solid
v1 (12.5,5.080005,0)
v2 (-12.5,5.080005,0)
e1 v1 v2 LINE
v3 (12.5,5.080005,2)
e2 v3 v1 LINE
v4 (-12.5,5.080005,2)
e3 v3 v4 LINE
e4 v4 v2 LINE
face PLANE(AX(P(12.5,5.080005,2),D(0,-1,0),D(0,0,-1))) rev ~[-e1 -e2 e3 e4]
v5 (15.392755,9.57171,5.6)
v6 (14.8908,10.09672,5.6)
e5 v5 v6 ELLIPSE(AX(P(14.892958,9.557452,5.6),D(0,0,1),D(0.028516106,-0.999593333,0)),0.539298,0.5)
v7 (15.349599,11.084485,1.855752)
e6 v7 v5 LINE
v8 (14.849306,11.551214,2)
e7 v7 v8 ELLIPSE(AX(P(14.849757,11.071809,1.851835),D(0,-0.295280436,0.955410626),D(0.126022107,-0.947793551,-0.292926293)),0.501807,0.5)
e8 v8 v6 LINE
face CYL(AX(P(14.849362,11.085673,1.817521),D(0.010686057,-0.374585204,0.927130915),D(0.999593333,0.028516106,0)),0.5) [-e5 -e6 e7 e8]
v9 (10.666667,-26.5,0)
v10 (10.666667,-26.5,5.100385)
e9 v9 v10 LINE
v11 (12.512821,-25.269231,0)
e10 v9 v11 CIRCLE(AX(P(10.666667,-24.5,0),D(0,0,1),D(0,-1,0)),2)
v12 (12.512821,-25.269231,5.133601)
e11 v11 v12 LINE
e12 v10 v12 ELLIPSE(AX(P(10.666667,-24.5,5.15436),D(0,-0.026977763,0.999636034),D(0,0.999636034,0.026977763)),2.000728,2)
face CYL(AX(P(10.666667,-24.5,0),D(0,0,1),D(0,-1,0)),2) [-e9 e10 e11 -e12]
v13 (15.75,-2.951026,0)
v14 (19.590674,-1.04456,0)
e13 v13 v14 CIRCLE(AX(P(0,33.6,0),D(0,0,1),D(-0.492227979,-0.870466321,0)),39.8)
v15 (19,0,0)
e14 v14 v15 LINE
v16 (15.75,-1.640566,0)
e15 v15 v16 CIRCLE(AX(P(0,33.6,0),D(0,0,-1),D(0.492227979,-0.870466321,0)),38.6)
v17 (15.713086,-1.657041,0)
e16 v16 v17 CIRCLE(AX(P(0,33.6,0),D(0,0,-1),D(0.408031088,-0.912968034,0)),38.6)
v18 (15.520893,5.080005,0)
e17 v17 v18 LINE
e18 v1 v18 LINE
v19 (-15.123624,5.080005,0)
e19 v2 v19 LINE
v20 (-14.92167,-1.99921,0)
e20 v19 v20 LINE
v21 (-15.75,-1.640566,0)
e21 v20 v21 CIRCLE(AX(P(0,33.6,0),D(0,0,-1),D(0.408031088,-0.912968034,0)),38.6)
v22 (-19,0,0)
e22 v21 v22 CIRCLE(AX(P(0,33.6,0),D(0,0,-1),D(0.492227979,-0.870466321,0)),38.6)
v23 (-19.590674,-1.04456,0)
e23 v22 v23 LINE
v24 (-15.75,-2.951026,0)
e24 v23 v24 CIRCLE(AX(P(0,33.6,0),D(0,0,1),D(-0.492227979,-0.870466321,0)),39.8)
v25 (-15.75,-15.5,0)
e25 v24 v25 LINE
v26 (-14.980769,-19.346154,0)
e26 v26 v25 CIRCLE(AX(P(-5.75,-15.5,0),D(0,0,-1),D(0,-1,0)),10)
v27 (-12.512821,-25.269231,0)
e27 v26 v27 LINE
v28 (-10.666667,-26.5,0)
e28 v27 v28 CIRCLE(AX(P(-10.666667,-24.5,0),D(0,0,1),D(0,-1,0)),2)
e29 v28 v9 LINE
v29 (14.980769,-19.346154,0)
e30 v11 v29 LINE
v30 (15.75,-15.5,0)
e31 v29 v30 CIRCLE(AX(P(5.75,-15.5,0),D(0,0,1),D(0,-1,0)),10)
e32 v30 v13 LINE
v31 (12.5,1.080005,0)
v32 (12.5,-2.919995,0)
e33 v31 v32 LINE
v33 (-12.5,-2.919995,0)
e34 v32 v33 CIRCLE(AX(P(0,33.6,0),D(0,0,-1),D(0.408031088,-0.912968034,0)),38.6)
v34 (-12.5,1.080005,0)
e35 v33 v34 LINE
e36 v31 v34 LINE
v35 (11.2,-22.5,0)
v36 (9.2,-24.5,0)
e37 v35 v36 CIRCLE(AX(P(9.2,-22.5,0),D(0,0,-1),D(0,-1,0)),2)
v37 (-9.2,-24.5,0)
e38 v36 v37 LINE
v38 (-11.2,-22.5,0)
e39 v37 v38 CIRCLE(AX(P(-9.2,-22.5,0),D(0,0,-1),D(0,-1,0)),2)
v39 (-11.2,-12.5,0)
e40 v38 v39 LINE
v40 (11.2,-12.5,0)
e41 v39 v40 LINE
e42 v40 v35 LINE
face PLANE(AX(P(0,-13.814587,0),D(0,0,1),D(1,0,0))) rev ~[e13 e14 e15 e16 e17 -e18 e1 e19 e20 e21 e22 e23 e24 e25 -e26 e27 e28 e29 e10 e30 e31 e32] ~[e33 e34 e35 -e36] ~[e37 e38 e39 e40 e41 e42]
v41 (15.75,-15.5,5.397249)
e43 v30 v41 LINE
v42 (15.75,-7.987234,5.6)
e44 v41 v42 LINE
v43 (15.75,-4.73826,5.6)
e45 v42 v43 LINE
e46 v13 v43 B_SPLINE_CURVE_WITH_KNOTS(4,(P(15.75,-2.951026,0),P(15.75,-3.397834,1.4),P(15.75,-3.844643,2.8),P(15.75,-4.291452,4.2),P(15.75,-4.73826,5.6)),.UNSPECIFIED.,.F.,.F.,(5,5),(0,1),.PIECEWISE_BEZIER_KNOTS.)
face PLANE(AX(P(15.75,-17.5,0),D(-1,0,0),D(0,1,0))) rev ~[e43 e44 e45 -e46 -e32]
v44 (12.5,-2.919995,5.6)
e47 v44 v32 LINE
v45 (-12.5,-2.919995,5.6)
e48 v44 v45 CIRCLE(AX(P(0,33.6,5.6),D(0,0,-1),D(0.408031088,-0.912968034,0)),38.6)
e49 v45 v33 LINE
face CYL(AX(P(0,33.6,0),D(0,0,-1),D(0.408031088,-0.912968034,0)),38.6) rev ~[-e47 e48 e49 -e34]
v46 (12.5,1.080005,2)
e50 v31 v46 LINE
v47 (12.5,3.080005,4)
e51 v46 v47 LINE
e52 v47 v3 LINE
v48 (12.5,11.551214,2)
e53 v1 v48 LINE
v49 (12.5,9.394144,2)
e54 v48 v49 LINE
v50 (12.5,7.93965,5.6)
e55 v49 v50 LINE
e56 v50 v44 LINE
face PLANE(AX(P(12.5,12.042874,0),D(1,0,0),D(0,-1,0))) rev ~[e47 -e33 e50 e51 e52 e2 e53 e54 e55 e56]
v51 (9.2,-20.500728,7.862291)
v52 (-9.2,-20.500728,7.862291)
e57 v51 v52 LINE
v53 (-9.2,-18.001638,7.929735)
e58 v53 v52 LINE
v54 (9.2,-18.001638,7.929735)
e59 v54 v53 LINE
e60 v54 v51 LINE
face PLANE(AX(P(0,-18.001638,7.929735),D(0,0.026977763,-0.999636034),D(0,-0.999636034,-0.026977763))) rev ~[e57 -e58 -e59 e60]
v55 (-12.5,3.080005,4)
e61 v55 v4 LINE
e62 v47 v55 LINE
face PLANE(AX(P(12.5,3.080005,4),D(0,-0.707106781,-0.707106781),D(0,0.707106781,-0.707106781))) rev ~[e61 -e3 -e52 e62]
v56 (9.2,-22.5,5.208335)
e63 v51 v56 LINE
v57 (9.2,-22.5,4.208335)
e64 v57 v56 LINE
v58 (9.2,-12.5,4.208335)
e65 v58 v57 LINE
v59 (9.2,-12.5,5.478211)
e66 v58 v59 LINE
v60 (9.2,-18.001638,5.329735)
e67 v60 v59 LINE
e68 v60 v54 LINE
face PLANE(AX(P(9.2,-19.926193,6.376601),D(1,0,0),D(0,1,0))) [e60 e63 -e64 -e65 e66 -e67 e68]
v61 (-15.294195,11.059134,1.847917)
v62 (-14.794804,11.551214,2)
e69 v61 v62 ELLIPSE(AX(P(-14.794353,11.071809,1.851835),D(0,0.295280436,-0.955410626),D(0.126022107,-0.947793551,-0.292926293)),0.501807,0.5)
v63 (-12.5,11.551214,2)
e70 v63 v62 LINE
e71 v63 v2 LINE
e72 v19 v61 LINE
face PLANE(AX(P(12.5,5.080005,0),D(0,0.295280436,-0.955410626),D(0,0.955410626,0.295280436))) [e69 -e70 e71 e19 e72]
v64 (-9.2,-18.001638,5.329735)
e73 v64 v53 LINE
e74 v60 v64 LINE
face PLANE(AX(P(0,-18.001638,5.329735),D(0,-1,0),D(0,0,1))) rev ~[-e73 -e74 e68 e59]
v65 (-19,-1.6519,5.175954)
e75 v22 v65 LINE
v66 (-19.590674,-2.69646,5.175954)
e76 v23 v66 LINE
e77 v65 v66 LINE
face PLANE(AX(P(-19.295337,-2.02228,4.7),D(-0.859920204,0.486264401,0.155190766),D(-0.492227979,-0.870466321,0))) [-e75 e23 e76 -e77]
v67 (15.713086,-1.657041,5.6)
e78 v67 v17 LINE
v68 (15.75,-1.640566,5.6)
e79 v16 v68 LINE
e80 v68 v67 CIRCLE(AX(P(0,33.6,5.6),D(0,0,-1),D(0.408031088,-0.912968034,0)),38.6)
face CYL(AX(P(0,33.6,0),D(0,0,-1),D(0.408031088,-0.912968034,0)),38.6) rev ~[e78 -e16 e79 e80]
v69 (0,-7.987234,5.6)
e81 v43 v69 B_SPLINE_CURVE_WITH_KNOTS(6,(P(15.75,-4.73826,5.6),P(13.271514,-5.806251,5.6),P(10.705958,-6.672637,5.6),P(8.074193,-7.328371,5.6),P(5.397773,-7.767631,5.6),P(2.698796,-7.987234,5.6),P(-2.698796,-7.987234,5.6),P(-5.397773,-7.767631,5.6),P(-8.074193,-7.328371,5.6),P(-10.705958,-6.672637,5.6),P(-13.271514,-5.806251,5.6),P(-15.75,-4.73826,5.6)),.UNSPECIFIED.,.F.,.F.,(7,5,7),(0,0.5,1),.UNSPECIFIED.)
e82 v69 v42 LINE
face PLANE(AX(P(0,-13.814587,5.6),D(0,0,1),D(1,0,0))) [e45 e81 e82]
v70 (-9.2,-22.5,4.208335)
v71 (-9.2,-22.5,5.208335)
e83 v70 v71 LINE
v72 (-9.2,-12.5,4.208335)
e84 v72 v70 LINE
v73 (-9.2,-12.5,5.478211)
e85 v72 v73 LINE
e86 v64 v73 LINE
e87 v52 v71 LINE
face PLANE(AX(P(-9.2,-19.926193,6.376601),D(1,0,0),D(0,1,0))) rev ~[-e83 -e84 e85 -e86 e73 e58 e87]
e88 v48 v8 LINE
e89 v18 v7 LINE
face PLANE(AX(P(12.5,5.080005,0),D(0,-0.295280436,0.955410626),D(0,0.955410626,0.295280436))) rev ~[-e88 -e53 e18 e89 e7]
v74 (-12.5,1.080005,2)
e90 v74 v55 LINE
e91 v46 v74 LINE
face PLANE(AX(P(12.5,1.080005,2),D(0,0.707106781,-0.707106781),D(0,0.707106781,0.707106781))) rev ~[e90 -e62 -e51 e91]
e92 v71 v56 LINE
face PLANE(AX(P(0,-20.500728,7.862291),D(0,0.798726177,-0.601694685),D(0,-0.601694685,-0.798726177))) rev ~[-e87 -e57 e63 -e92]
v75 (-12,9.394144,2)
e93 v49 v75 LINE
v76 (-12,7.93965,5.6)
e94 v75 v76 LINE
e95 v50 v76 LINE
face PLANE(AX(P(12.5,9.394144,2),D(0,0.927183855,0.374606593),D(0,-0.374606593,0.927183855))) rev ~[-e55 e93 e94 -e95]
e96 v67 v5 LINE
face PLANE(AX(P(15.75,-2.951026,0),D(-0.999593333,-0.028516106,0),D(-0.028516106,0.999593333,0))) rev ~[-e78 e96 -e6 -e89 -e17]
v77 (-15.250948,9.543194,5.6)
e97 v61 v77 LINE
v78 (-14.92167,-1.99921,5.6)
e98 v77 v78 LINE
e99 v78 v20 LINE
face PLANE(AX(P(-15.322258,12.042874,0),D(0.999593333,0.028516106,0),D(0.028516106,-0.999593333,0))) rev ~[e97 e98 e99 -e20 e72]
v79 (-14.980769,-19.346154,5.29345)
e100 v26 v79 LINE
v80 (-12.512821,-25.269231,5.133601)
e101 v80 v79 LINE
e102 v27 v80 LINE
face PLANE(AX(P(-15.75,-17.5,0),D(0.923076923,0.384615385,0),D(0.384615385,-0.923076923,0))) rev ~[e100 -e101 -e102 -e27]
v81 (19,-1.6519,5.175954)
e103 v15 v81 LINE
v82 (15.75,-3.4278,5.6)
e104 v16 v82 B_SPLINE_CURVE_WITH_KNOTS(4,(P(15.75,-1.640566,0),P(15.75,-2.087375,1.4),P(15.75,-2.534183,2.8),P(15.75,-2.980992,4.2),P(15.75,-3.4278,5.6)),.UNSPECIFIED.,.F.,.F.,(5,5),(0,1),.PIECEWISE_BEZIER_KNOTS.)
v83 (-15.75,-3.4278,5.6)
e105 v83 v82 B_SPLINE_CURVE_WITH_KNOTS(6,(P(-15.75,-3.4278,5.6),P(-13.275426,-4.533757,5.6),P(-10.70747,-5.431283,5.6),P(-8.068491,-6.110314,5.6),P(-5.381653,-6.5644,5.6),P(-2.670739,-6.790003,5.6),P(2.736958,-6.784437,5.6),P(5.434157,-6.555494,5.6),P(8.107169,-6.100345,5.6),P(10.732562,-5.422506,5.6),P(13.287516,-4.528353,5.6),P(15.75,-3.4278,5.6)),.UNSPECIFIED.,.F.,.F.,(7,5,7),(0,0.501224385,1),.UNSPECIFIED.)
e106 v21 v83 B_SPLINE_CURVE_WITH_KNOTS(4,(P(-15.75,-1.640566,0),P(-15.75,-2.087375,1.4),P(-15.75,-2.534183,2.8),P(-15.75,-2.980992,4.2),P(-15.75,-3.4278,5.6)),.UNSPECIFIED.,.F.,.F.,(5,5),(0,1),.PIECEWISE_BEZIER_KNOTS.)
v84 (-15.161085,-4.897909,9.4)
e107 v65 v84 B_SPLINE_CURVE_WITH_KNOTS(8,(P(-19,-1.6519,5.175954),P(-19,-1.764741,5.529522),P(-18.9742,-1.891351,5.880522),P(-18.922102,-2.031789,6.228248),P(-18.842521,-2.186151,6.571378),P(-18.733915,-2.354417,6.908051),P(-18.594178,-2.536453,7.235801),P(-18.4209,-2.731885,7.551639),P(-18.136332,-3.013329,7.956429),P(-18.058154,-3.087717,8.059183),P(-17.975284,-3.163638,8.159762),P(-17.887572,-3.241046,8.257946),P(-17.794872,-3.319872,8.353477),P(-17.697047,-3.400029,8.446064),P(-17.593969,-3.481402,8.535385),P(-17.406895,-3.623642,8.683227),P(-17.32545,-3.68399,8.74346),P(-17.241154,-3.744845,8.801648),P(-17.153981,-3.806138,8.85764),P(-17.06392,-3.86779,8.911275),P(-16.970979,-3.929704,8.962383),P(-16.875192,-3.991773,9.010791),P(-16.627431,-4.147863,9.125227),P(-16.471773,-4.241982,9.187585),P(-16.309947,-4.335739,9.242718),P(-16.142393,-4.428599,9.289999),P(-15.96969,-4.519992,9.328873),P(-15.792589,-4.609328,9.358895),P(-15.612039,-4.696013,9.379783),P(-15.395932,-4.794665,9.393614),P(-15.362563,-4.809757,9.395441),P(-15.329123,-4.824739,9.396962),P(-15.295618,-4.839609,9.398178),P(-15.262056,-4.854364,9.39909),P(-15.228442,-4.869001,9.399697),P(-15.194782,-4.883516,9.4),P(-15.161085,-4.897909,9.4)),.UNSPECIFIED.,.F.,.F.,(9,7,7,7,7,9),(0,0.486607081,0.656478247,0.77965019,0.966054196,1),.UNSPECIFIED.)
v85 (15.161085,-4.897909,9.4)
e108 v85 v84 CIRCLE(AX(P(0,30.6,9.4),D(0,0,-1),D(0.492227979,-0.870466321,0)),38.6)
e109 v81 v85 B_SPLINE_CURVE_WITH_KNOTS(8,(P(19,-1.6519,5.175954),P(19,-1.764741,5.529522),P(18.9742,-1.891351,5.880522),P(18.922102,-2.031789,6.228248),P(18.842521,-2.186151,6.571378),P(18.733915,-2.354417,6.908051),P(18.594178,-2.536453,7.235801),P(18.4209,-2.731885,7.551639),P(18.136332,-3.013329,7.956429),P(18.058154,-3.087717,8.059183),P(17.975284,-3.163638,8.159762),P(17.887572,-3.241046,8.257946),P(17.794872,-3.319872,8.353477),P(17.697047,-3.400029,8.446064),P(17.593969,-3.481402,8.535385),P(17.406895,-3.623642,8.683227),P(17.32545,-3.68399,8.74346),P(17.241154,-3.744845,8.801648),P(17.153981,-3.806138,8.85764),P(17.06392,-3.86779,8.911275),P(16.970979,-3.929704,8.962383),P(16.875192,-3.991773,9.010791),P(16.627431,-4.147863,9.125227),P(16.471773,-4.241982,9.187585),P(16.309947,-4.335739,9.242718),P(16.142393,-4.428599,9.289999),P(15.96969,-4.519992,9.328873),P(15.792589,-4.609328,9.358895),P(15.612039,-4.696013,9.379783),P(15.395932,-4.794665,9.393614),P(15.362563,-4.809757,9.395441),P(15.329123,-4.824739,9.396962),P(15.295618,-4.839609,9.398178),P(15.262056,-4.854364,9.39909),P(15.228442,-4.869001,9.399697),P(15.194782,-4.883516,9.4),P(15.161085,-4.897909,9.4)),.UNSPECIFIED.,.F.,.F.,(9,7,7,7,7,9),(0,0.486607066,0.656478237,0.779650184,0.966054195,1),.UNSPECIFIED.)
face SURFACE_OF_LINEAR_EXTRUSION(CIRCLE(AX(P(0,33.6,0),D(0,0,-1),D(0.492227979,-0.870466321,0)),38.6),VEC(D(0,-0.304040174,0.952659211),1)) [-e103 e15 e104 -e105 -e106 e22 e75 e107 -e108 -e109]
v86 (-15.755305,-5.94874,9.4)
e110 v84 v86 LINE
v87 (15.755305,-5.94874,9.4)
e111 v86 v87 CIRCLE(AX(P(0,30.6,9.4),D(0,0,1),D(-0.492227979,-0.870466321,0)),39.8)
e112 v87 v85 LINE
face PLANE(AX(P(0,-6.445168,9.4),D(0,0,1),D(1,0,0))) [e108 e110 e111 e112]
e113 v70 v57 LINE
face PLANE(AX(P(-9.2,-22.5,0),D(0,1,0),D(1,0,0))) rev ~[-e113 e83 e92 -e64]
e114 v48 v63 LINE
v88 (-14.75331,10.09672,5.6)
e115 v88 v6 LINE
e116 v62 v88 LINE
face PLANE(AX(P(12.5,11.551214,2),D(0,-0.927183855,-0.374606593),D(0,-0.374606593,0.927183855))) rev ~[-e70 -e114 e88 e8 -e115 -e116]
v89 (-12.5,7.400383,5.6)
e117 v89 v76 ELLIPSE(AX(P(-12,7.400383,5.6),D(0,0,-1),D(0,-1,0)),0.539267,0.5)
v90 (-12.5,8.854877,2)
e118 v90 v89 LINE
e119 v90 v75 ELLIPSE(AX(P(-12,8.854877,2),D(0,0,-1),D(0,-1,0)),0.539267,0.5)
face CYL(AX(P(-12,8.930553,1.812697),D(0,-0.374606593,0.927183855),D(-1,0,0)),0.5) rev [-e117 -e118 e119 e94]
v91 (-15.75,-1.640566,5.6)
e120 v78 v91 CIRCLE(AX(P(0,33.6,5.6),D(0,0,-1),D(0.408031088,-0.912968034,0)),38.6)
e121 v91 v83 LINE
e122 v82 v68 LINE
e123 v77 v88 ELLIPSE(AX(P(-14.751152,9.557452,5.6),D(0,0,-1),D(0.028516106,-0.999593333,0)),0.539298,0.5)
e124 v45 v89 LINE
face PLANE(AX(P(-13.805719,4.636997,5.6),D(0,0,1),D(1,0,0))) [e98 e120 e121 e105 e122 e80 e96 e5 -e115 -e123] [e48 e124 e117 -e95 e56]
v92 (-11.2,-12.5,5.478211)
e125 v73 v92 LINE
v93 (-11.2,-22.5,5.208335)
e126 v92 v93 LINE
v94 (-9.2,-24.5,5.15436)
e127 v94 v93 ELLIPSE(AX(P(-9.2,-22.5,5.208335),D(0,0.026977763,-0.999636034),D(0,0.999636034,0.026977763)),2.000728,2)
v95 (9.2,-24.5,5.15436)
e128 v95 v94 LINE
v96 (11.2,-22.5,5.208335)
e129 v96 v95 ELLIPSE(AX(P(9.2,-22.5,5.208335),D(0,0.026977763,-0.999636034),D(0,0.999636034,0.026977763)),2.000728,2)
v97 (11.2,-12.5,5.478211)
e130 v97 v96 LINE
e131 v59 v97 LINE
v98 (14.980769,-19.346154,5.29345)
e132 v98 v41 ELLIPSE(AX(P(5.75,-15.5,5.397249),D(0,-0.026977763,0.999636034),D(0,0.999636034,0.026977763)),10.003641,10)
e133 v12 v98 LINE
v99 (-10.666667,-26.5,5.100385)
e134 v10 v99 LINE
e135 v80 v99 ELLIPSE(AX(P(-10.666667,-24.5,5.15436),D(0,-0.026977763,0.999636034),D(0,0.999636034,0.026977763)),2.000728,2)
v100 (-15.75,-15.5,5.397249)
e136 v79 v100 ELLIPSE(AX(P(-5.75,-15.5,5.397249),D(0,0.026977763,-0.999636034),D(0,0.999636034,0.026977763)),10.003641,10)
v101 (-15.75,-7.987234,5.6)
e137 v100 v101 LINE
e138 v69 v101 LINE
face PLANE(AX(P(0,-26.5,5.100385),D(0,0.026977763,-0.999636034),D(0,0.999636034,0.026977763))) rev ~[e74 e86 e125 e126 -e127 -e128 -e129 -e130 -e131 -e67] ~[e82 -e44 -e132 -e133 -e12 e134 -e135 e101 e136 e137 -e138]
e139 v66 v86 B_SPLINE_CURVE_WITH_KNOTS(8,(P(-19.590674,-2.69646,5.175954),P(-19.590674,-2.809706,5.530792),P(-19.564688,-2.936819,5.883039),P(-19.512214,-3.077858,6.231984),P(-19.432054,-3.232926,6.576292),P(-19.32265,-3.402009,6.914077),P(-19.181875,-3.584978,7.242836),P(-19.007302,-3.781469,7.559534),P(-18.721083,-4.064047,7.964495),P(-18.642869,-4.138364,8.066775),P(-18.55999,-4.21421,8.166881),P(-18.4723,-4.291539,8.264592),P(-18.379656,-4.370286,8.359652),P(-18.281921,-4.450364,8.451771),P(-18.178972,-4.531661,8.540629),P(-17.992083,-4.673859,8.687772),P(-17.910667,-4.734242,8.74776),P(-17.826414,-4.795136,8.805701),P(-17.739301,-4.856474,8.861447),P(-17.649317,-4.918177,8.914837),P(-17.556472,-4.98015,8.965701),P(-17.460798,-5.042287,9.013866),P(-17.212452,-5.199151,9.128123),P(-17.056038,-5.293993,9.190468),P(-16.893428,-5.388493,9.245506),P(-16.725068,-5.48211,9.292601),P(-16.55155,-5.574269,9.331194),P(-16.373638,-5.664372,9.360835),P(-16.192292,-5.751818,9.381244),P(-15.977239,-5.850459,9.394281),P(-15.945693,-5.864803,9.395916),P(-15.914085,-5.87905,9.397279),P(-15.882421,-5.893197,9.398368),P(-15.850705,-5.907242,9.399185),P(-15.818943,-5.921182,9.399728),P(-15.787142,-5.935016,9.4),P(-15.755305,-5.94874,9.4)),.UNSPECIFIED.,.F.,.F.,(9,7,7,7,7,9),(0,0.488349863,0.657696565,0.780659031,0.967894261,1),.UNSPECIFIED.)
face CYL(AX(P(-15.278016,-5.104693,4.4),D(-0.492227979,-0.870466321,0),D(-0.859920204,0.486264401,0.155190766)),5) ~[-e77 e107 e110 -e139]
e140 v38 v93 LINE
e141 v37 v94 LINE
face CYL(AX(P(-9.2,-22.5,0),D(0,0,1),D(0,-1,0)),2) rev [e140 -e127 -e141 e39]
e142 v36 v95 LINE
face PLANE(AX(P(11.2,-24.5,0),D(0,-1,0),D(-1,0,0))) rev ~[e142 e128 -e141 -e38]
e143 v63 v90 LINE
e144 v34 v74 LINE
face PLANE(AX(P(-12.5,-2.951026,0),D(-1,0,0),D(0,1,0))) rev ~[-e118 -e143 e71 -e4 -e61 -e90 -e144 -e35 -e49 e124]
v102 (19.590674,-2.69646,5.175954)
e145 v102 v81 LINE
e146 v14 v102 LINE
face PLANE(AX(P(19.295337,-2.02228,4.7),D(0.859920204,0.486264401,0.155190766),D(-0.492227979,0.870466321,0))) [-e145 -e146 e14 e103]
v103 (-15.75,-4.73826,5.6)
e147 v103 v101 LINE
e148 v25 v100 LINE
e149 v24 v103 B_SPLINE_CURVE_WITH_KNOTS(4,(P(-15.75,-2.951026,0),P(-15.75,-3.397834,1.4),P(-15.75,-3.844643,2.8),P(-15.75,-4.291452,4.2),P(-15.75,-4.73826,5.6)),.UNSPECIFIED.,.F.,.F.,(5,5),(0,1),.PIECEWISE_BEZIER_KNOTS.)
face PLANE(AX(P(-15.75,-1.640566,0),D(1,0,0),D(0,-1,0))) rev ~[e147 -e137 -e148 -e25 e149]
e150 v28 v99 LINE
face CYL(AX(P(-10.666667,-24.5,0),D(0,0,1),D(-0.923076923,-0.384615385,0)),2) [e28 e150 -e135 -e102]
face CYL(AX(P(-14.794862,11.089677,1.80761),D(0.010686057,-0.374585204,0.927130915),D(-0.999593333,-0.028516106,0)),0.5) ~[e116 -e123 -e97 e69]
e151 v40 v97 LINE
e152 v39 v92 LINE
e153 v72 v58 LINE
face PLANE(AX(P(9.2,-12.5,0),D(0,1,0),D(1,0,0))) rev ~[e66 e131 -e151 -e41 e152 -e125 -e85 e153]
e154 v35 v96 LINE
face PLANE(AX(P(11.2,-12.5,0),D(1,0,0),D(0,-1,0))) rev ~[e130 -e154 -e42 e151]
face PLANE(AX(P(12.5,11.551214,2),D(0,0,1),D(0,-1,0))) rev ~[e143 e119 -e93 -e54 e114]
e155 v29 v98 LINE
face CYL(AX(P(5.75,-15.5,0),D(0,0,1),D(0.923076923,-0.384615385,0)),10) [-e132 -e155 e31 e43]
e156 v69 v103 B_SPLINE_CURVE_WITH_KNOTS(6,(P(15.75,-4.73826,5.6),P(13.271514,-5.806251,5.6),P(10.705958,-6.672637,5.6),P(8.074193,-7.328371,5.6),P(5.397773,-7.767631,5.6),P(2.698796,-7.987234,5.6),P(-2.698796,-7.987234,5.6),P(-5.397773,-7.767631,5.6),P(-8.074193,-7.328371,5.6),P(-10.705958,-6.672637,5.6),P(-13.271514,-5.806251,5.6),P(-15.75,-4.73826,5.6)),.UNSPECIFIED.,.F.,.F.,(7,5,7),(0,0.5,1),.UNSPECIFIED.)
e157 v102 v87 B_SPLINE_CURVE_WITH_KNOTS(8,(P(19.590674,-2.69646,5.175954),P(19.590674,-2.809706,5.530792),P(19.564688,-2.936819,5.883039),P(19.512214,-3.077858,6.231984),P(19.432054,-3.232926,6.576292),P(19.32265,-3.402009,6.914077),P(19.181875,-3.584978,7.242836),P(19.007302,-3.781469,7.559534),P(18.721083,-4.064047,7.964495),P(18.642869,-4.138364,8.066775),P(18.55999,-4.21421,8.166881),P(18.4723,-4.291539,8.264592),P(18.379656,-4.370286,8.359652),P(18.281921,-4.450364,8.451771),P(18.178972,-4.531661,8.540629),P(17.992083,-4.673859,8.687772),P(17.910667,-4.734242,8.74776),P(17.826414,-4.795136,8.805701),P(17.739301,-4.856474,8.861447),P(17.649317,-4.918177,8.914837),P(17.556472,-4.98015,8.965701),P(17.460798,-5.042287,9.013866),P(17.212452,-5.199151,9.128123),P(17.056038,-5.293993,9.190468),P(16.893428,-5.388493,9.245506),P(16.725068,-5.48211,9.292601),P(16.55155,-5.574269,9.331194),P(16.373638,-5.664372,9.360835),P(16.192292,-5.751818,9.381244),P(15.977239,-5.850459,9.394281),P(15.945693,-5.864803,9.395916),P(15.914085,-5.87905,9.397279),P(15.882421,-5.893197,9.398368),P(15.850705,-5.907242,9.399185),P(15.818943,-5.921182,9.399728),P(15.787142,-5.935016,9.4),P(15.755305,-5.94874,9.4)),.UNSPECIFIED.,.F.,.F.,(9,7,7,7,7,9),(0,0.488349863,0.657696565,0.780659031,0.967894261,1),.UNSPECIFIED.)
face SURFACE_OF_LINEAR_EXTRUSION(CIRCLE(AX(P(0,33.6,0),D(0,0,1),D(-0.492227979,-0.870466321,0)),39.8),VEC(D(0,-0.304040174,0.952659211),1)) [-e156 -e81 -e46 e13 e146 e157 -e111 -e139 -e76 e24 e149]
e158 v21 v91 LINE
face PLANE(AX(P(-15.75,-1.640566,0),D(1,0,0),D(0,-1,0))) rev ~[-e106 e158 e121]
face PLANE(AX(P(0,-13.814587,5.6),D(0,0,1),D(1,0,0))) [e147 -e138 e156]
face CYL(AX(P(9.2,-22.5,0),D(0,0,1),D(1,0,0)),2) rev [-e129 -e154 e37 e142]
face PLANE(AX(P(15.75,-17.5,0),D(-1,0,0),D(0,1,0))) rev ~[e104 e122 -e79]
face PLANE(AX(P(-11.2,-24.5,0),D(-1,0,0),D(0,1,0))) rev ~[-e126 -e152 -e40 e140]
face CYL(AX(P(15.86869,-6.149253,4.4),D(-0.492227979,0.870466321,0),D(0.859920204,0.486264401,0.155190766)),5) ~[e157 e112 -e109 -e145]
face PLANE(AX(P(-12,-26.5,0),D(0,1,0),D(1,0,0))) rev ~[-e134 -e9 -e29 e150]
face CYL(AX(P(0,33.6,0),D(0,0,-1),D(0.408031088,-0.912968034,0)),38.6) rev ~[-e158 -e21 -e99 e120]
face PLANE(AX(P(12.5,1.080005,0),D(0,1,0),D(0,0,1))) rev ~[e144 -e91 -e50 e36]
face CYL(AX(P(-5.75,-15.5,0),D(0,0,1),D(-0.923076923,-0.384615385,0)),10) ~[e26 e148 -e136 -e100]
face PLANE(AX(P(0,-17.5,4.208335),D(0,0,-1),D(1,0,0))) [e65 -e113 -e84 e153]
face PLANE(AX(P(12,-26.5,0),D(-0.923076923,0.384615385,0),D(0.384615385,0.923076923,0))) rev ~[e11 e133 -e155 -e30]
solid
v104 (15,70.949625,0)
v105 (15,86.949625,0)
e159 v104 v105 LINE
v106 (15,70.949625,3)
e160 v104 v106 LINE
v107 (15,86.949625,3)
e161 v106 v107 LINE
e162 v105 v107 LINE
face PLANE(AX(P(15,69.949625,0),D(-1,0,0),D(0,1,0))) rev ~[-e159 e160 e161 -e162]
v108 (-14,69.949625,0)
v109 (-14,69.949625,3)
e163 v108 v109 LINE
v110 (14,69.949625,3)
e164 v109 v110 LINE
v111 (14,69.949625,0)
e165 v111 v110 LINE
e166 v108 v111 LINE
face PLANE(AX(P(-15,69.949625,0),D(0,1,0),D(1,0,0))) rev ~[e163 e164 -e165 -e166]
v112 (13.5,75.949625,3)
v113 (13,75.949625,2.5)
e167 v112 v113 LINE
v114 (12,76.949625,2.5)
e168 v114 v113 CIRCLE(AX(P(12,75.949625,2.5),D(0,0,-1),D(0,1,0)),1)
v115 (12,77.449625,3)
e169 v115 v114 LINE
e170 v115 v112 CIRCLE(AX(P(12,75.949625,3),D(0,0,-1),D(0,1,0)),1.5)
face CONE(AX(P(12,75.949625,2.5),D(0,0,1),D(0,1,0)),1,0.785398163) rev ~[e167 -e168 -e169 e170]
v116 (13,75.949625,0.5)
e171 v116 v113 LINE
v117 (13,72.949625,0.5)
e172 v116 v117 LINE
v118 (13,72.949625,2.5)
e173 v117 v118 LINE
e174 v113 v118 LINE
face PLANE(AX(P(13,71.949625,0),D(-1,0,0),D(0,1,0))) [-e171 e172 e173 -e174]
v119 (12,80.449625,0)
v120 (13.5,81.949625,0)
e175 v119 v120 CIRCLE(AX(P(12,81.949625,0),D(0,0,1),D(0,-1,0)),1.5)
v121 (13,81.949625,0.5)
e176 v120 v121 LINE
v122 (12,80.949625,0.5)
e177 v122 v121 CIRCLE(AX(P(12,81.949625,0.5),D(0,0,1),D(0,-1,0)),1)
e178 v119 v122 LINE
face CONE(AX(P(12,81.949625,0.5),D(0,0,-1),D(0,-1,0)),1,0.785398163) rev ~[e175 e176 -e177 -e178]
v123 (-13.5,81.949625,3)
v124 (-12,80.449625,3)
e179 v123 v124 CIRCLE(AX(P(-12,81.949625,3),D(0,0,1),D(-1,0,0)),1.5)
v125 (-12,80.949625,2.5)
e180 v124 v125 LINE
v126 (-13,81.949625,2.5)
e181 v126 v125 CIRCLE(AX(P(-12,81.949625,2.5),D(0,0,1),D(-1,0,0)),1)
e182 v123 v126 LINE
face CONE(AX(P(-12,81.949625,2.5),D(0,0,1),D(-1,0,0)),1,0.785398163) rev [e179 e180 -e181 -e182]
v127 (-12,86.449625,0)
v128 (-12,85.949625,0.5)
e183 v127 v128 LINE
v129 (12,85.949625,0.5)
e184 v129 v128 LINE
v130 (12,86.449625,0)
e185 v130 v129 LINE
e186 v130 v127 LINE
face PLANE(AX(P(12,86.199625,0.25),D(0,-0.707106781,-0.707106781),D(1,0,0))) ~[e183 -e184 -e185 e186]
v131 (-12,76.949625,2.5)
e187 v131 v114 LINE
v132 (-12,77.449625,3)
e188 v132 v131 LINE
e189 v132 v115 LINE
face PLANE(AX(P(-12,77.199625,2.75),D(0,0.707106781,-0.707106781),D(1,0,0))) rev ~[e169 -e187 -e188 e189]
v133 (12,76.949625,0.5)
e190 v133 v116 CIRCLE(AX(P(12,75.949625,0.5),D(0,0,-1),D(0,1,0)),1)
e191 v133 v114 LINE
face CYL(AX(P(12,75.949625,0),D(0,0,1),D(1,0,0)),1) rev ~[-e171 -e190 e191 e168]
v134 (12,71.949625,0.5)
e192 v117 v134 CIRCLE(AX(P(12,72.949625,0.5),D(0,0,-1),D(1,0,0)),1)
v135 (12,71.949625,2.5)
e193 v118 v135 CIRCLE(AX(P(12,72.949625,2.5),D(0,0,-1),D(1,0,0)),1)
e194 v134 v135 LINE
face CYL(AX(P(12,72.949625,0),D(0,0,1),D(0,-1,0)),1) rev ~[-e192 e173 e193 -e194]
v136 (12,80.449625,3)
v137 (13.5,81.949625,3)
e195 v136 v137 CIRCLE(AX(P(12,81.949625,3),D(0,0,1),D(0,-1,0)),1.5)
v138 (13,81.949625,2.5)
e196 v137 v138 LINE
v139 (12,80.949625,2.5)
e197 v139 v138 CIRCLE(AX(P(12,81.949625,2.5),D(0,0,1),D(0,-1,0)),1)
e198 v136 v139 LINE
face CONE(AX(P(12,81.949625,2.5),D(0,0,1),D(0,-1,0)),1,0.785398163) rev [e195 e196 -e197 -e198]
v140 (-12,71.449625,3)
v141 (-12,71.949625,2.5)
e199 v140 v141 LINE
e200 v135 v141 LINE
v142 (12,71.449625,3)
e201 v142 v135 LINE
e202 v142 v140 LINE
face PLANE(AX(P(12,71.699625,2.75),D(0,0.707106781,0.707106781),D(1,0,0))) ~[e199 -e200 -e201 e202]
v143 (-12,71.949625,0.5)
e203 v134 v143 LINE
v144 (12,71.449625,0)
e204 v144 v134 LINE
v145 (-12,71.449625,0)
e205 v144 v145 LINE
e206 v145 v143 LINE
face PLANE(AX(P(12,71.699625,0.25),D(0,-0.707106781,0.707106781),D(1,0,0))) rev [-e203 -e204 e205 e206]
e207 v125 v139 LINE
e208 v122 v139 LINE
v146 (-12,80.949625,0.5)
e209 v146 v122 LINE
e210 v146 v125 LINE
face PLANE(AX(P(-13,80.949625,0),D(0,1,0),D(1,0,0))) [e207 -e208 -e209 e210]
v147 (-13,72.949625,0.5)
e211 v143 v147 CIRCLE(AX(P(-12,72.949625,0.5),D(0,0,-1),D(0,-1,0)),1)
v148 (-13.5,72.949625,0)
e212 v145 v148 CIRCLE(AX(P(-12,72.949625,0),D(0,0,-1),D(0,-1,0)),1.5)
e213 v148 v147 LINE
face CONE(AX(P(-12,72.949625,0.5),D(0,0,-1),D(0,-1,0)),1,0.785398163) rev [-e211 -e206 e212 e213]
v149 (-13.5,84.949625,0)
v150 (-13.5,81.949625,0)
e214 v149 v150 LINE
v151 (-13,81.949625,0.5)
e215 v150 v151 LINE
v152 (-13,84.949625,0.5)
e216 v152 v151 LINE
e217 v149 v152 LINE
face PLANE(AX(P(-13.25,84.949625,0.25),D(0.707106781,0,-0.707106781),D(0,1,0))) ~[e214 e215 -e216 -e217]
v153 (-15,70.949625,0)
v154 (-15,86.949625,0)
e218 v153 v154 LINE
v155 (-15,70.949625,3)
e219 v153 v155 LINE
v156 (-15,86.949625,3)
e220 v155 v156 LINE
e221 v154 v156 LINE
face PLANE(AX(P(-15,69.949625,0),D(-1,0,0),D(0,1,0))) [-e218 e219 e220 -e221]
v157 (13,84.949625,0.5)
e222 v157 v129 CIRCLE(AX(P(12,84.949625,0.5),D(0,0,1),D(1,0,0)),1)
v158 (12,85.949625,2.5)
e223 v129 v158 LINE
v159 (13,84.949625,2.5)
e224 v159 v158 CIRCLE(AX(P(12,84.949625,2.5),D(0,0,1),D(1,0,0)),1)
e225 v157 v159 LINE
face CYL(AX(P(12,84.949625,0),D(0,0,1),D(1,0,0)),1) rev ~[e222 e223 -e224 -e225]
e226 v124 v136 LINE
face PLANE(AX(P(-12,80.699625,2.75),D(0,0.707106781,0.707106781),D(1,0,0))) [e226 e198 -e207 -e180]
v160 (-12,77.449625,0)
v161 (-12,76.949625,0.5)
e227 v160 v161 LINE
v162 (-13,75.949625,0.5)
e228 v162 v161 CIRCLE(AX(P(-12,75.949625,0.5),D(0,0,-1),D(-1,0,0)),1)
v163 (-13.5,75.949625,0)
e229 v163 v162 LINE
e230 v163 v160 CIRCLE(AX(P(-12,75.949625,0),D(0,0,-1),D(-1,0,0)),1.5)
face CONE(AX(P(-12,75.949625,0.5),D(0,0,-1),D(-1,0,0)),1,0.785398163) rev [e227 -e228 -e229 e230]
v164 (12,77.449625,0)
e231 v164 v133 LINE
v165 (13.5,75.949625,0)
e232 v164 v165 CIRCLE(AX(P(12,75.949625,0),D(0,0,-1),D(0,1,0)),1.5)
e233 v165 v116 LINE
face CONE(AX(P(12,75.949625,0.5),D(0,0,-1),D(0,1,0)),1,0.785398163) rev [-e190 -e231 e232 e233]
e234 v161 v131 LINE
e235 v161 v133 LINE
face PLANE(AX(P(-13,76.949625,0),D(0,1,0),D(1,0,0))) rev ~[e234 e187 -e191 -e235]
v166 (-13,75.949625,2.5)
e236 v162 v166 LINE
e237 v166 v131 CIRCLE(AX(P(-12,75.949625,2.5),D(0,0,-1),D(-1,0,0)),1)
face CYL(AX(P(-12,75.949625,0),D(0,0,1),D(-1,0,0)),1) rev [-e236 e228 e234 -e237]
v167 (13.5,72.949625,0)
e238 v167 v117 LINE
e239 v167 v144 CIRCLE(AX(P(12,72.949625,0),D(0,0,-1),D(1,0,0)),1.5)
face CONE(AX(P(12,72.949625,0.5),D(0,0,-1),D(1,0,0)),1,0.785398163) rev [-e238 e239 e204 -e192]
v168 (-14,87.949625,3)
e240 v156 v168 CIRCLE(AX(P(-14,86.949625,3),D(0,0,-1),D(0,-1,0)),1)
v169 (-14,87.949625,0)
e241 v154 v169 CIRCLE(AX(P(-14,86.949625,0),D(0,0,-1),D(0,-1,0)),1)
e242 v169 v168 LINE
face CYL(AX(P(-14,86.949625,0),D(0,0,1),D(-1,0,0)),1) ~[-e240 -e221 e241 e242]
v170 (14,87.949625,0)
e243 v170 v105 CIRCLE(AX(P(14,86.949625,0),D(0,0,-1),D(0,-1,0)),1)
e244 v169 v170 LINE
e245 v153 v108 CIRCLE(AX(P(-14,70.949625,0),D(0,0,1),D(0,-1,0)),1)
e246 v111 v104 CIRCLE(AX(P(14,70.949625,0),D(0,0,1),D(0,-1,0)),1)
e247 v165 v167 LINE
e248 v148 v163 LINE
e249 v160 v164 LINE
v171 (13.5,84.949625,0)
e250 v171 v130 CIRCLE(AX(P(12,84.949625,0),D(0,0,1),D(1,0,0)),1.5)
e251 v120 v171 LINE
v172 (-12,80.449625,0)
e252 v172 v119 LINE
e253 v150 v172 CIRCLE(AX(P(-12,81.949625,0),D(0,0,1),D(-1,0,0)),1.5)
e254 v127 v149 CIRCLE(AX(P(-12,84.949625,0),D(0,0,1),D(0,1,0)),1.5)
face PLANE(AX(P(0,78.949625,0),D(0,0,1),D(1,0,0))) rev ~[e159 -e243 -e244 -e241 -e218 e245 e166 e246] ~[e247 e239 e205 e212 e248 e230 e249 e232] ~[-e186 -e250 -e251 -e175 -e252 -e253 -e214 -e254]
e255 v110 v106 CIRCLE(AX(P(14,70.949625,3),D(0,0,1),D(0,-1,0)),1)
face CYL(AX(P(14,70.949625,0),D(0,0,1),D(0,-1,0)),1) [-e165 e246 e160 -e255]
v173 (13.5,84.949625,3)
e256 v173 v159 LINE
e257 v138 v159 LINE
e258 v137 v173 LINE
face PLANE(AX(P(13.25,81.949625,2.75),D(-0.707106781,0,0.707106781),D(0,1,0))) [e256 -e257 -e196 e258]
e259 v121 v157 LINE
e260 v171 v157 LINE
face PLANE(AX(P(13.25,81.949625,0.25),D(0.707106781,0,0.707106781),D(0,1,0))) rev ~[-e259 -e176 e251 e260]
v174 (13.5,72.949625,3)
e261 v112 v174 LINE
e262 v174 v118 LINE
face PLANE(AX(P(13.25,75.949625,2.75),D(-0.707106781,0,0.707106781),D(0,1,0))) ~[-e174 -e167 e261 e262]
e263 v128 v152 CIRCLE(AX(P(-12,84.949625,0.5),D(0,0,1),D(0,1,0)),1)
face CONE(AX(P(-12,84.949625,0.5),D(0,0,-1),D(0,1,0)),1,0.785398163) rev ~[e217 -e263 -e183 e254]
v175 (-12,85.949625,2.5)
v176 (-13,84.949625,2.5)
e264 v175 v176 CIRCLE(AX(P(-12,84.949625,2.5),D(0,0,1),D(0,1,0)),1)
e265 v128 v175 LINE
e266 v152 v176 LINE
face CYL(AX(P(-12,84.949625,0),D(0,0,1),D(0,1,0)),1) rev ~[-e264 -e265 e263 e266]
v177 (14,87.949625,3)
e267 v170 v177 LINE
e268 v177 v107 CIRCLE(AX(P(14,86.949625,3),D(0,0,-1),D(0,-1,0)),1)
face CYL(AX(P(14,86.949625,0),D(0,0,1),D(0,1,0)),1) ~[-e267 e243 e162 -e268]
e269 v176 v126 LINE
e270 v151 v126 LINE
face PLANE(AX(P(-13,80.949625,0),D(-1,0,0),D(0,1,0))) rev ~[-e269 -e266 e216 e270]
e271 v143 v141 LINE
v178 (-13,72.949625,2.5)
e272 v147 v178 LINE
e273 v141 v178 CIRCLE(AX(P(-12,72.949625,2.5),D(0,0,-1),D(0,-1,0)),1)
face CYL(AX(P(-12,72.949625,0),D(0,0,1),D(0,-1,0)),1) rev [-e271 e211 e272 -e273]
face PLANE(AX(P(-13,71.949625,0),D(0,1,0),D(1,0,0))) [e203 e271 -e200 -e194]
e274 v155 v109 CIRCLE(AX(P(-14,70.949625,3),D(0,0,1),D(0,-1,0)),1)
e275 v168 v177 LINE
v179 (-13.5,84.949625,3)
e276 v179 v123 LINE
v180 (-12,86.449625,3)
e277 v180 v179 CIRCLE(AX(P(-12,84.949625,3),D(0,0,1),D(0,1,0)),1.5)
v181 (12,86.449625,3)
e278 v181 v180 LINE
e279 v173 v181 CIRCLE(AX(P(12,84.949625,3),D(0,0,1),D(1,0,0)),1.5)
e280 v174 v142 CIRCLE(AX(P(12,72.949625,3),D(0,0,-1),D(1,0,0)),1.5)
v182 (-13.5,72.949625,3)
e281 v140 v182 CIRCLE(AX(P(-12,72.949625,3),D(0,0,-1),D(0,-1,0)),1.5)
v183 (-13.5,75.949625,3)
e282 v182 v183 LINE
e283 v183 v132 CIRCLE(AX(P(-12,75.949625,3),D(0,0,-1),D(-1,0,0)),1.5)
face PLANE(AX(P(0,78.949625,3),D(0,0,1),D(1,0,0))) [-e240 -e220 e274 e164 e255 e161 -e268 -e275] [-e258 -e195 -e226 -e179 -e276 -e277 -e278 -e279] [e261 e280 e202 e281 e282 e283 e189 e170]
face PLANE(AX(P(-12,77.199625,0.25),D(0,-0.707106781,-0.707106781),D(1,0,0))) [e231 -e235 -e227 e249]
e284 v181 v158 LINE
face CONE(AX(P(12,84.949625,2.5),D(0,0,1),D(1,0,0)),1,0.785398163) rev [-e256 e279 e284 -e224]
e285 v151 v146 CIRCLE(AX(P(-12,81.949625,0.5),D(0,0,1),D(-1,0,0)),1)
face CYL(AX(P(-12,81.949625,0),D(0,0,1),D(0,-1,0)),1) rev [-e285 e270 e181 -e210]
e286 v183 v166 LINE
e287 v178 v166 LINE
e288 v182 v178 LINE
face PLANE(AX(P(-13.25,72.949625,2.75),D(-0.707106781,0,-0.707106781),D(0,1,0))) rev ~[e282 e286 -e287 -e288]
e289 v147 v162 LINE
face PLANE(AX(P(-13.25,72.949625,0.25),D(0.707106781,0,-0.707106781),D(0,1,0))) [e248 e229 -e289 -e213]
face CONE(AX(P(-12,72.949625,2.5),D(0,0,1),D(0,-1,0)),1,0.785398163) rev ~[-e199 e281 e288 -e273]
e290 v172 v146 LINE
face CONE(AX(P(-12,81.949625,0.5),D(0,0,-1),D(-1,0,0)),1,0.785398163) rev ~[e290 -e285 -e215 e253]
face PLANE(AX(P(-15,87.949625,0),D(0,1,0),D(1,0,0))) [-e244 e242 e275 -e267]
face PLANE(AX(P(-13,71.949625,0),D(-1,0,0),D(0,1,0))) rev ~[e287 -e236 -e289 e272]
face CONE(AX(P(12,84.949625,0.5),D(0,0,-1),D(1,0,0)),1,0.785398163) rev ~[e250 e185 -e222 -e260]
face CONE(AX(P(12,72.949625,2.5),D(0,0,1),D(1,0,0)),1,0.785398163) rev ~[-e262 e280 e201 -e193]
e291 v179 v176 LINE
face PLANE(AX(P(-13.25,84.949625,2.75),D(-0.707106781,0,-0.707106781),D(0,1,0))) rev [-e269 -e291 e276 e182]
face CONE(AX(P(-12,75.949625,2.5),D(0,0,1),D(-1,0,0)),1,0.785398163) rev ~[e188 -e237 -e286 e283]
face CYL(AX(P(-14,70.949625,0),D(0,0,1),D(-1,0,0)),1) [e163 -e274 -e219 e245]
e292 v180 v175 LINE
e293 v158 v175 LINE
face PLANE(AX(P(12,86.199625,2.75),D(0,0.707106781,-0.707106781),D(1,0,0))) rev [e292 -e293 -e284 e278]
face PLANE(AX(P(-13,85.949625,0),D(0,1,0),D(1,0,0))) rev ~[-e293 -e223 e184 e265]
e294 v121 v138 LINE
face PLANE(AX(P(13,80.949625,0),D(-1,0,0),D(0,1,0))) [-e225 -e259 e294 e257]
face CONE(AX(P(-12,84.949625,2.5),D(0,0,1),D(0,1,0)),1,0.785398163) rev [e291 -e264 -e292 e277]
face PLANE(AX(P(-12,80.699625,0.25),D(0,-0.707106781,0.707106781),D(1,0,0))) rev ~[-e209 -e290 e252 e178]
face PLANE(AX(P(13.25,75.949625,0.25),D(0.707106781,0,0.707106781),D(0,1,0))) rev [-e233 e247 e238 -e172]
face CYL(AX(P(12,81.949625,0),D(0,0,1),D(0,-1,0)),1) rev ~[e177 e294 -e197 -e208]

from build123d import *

# Parameters (mm, degrees)
F4_DEPTH       = 5.6
F6_DEPTH       = 19.5916736751
F6_DEPTH_BACK  = 19.5916736751
F8_DEPTH       = 9.2
F8_DEPTH_BACK  = 9.2
F9_W           = 18.4
F9_H           = 10
F11_DEPTH      = 4.2083354886
F13_DEPTH      = 5.6
F15_DEPTH      = 25
F16_DEPTH      = 7.0916736751
F16_DEPTH_BACK = 32.0916736751
F17_R          = 2
F18_R          = 10
F19_R          = 5
F20_R          = 0.5
F21_W          = 30
F21_H          = 18
F21_W_2        = 26
F21_H_2        = 5
F22_DEPTH      = 3
F23_R          = 1
F24_SIZE       = 0.5


with BuildPart() as f2:
    # F2: sweep along a path in F1
    with BuildLine(Plane.YZ) as f2_path:
        Line((-5, 0), (-8, 9.4))
    # F0 (on Top) → F2 (sweep)
    with BuildSketch(Plane.XY):
        with BuildLine():
            ThreePointArc((19, 0), (0, -5), (-19, 0))
            Line((-19, 0), (-19.5906735751, -1.0445595855))
            ThreePointArc((-19.5906735751, -1.0445595855), (0, -6.2), (19.5906735751, -1.0445595855))
            Line((19.5906735751, -1.0445595855), (19, 0))
        make_face()
    sweep(path=f2_path.line)

    # F3 (on Top) → F4 (join)
    with BuildSketch(Plane.XY):
        with BuildLine():
            Line((-15.75, -17.5), (-12, -26.5))
            Line((-12, -26.5), (12, -26.5))
            Line((12, -26.5), (15.75, -17.5))
            Line((15.75, -17.5), (15.75, -1.6405661135))
            ThreePointArc((15.75, -1.6405661135), (0, -5), (-15.75, -1.6405661135))
            Line((-15.75, -1.6405661135), (-15.75, -17.5))
        make_face()
        Polygon((11.2, -24.5), (-11.2, -24.5), (-11.2, -12.5), (-9.2, -12.5), (-9.2, -22.5), (9.2, -22.5), (9.2, -12.5), (11.2, -12.5), align=None, mode=Mode.SUBTRACT)
    extrude(amount=F4_DEPTH)

    # F5 (on Right) → F6 (cut, two sides)
    with BuildSketch(Plane.YZ) as f6_sk:
        Polygon((-26.5, 5.1003851469), (-7.9872340426, 5.6), (-26.5, 5.6), align=None)
    extrude(amount=-F6_DEPTH, mode=Mode.SUBTRACT)
    extrude(f6_sk.sketch, amount=F6_DEPTH_BACK, mode=Mode.SUBTRACT)

    # F7 (on Right) → F8 (join, two sides)
    with BuildSketch(Plane.YZ) as f8_sk:
        Polygon((-20.5007279322, 7.8622910144), (-22.5, 5.2083354886), (-18.0016378474, 5.3297354216), (-18.0016378474, 7.9297354216), align=None)
    extrude(amount=-F8_DEPTH)
    extrude(f8_sk.sketch, amount=F8_DEPTH_BACK)

    # F9 (on face) → F11 (cut, through all)
    with BuildSketch(Plane(origin=(0, 0, 0), x_dir=(1, 0, 0), z_dir=(0, 0, -1))):
        with Locations((0, 17.5)):
            Rectangle(F9_W, F9_H)
    extrude(amount=-F11_DEPTH, mode=Mode.SUBTRACT)

    # F12 (on Top) → F13 (join, through all)
    with BuildSketch(Plane.XY):
        Polygon((-12.5, -2.9510259774), (-12.5, 12.0428740201), (-15.3222584115, 12.0428740201), (-14.894516823, -2.9510259774), align=None)
        Polygon((15.3222584115, 12.0428740201), (12.5, 12.0428740201), (12.5, -2.9510259774), (15.75, -2.9510259774), align=None)
    extrude(amount=F13_DEPTH)

    # F14 (on face) → F15 (join, through all)
    with BuildSketch(Plane(origin=(12.5, 0, 0), x_dir=(0, -1, 0), z_dir=(-1, 0, 0))):
        Polygon((-5.0800054765, 0), (-1.0800054765, 0), (-1.0800054765, 2), (-3.0800054765, 4), (-5.0800054765, 2), align=None)
        Polygon((-10.0967195195, 5.6), (-11.5512139325, 2), (-9.3941444472, 2), (-7.9396500342, 5.6), align=None)
    extrude(amount=F15_DEPTH)

    # F14 (on face) → F16 (cut, two sides)
    with BuildSketch(Plane(origin=(12.5, 0, 0), x_dir=(0, -1, 0), z_dir=(-1, 0, 0))) as f16_sk:
        Polygon((-12.0428740201, 0), (-5.0800054765, 0), (-11.5512139325, 2), (-10.0967195195, 5.6), (-12.0428740201, 5.6), align=None)
    extrude(amount=-F16_DEPTH, mode=Mode.SUBTRACT)
    extrude(f16_sk.sketch, amount=F16_DEPTH_BACK, mode=Mode.SUBTRACT)

    # F17
    f17_edges = [f2.edges().sort_by_distance(p)[0] for p in [
        (-11.2, -24.5, 2.57718),
        (11.2, -24.5, 2.57718),
        (-12, -26.5, 2.550193),
        (12, -26.5, 2.550193),
    ]]
    fillet(f17_edges, radius=F17_R)

    # F18
    f18_edges = [f2.edges().sort_by_distance(p)[0] for p in [
        (15.75, -17.5, 2.671637),
        (-15.75, -17.5, 2.671637),
    ]]
    fillet(f18_edges, radius=F18_R)

    # F19
    f19_edges = [f2.edges().sort_by_distance(p)[0] for p in [
        (-19.295337, -3.52228, 9.4),
        (19.295337, -3.52228, 9.4),
    ]]
    fillet(f19_edges, radius=F19_R)

    # F20
    f20_edges = [f2.edges().sort_by_distance(p)[0] for p in [
        (-15.287486, 10.823967, 3.8),
        (15.357031, 10.823967, 3.8),
        (-12.5, 8.666897, 3.8),
    ]]
    fillet(f20_edges, radius=F20_R)


with BuildPart() as f22:
    # F21 (on Top) → F22 (new body)
    with BuildSketch(Plane.XY):
        with Locations((0, 78.9496248718)):
            Rectangle(F21_W, F21_H)
        with Locations((0, 74.4496248718)):
            Rectangle(F21_W_2, F21_H_2, mode=Mode.SUBTRACT)
        with Locations((0, 83.4496248718)):
            Rectangle(F21_W_2, F21_H_2, mode=Mode.SUBTRACT)
    extrude(amount=F22_DEPTH)

    # F23
    f23_edges = [f22.edges().sort_by_distance(p)[0] for p in [
        (-13, 85.949625, 1.5),
        (13, 85.949625, 1.5),
        (-13, 76.949625, 1.5),
        (-13, 71.949625, 1.5),
        (13, 71.949625, 1.5),
        (13, 76.949625, 1.5),
        (15, 69.949625, 1.5),
        (-15, 69.949625, 1.5),
        (-15, 87.949625, 1.5),
        (13, 80.949625, 1.5),
        (-13, 80.949625, 1.5),
        (15, 87.949625, 1.5),
    ]]
    fillet(f23_edges, radius=F23_R)

    # F24
    f24_edges = [f22.edges().sort_by_distance(p)[0] for p in [
        (0, 80.949625, 3),
        (-13, 83.449625, 3),
        (-12.707107, 85.656732, 3),
        (0, 76.949625, 3),
        (0, 76.949625, 0),
        (0, 80.949625, 0),
    ]]
    chamfer(f24_edges, length=F24_SIZE)


solid = Compound([f2.part, f22.part])
